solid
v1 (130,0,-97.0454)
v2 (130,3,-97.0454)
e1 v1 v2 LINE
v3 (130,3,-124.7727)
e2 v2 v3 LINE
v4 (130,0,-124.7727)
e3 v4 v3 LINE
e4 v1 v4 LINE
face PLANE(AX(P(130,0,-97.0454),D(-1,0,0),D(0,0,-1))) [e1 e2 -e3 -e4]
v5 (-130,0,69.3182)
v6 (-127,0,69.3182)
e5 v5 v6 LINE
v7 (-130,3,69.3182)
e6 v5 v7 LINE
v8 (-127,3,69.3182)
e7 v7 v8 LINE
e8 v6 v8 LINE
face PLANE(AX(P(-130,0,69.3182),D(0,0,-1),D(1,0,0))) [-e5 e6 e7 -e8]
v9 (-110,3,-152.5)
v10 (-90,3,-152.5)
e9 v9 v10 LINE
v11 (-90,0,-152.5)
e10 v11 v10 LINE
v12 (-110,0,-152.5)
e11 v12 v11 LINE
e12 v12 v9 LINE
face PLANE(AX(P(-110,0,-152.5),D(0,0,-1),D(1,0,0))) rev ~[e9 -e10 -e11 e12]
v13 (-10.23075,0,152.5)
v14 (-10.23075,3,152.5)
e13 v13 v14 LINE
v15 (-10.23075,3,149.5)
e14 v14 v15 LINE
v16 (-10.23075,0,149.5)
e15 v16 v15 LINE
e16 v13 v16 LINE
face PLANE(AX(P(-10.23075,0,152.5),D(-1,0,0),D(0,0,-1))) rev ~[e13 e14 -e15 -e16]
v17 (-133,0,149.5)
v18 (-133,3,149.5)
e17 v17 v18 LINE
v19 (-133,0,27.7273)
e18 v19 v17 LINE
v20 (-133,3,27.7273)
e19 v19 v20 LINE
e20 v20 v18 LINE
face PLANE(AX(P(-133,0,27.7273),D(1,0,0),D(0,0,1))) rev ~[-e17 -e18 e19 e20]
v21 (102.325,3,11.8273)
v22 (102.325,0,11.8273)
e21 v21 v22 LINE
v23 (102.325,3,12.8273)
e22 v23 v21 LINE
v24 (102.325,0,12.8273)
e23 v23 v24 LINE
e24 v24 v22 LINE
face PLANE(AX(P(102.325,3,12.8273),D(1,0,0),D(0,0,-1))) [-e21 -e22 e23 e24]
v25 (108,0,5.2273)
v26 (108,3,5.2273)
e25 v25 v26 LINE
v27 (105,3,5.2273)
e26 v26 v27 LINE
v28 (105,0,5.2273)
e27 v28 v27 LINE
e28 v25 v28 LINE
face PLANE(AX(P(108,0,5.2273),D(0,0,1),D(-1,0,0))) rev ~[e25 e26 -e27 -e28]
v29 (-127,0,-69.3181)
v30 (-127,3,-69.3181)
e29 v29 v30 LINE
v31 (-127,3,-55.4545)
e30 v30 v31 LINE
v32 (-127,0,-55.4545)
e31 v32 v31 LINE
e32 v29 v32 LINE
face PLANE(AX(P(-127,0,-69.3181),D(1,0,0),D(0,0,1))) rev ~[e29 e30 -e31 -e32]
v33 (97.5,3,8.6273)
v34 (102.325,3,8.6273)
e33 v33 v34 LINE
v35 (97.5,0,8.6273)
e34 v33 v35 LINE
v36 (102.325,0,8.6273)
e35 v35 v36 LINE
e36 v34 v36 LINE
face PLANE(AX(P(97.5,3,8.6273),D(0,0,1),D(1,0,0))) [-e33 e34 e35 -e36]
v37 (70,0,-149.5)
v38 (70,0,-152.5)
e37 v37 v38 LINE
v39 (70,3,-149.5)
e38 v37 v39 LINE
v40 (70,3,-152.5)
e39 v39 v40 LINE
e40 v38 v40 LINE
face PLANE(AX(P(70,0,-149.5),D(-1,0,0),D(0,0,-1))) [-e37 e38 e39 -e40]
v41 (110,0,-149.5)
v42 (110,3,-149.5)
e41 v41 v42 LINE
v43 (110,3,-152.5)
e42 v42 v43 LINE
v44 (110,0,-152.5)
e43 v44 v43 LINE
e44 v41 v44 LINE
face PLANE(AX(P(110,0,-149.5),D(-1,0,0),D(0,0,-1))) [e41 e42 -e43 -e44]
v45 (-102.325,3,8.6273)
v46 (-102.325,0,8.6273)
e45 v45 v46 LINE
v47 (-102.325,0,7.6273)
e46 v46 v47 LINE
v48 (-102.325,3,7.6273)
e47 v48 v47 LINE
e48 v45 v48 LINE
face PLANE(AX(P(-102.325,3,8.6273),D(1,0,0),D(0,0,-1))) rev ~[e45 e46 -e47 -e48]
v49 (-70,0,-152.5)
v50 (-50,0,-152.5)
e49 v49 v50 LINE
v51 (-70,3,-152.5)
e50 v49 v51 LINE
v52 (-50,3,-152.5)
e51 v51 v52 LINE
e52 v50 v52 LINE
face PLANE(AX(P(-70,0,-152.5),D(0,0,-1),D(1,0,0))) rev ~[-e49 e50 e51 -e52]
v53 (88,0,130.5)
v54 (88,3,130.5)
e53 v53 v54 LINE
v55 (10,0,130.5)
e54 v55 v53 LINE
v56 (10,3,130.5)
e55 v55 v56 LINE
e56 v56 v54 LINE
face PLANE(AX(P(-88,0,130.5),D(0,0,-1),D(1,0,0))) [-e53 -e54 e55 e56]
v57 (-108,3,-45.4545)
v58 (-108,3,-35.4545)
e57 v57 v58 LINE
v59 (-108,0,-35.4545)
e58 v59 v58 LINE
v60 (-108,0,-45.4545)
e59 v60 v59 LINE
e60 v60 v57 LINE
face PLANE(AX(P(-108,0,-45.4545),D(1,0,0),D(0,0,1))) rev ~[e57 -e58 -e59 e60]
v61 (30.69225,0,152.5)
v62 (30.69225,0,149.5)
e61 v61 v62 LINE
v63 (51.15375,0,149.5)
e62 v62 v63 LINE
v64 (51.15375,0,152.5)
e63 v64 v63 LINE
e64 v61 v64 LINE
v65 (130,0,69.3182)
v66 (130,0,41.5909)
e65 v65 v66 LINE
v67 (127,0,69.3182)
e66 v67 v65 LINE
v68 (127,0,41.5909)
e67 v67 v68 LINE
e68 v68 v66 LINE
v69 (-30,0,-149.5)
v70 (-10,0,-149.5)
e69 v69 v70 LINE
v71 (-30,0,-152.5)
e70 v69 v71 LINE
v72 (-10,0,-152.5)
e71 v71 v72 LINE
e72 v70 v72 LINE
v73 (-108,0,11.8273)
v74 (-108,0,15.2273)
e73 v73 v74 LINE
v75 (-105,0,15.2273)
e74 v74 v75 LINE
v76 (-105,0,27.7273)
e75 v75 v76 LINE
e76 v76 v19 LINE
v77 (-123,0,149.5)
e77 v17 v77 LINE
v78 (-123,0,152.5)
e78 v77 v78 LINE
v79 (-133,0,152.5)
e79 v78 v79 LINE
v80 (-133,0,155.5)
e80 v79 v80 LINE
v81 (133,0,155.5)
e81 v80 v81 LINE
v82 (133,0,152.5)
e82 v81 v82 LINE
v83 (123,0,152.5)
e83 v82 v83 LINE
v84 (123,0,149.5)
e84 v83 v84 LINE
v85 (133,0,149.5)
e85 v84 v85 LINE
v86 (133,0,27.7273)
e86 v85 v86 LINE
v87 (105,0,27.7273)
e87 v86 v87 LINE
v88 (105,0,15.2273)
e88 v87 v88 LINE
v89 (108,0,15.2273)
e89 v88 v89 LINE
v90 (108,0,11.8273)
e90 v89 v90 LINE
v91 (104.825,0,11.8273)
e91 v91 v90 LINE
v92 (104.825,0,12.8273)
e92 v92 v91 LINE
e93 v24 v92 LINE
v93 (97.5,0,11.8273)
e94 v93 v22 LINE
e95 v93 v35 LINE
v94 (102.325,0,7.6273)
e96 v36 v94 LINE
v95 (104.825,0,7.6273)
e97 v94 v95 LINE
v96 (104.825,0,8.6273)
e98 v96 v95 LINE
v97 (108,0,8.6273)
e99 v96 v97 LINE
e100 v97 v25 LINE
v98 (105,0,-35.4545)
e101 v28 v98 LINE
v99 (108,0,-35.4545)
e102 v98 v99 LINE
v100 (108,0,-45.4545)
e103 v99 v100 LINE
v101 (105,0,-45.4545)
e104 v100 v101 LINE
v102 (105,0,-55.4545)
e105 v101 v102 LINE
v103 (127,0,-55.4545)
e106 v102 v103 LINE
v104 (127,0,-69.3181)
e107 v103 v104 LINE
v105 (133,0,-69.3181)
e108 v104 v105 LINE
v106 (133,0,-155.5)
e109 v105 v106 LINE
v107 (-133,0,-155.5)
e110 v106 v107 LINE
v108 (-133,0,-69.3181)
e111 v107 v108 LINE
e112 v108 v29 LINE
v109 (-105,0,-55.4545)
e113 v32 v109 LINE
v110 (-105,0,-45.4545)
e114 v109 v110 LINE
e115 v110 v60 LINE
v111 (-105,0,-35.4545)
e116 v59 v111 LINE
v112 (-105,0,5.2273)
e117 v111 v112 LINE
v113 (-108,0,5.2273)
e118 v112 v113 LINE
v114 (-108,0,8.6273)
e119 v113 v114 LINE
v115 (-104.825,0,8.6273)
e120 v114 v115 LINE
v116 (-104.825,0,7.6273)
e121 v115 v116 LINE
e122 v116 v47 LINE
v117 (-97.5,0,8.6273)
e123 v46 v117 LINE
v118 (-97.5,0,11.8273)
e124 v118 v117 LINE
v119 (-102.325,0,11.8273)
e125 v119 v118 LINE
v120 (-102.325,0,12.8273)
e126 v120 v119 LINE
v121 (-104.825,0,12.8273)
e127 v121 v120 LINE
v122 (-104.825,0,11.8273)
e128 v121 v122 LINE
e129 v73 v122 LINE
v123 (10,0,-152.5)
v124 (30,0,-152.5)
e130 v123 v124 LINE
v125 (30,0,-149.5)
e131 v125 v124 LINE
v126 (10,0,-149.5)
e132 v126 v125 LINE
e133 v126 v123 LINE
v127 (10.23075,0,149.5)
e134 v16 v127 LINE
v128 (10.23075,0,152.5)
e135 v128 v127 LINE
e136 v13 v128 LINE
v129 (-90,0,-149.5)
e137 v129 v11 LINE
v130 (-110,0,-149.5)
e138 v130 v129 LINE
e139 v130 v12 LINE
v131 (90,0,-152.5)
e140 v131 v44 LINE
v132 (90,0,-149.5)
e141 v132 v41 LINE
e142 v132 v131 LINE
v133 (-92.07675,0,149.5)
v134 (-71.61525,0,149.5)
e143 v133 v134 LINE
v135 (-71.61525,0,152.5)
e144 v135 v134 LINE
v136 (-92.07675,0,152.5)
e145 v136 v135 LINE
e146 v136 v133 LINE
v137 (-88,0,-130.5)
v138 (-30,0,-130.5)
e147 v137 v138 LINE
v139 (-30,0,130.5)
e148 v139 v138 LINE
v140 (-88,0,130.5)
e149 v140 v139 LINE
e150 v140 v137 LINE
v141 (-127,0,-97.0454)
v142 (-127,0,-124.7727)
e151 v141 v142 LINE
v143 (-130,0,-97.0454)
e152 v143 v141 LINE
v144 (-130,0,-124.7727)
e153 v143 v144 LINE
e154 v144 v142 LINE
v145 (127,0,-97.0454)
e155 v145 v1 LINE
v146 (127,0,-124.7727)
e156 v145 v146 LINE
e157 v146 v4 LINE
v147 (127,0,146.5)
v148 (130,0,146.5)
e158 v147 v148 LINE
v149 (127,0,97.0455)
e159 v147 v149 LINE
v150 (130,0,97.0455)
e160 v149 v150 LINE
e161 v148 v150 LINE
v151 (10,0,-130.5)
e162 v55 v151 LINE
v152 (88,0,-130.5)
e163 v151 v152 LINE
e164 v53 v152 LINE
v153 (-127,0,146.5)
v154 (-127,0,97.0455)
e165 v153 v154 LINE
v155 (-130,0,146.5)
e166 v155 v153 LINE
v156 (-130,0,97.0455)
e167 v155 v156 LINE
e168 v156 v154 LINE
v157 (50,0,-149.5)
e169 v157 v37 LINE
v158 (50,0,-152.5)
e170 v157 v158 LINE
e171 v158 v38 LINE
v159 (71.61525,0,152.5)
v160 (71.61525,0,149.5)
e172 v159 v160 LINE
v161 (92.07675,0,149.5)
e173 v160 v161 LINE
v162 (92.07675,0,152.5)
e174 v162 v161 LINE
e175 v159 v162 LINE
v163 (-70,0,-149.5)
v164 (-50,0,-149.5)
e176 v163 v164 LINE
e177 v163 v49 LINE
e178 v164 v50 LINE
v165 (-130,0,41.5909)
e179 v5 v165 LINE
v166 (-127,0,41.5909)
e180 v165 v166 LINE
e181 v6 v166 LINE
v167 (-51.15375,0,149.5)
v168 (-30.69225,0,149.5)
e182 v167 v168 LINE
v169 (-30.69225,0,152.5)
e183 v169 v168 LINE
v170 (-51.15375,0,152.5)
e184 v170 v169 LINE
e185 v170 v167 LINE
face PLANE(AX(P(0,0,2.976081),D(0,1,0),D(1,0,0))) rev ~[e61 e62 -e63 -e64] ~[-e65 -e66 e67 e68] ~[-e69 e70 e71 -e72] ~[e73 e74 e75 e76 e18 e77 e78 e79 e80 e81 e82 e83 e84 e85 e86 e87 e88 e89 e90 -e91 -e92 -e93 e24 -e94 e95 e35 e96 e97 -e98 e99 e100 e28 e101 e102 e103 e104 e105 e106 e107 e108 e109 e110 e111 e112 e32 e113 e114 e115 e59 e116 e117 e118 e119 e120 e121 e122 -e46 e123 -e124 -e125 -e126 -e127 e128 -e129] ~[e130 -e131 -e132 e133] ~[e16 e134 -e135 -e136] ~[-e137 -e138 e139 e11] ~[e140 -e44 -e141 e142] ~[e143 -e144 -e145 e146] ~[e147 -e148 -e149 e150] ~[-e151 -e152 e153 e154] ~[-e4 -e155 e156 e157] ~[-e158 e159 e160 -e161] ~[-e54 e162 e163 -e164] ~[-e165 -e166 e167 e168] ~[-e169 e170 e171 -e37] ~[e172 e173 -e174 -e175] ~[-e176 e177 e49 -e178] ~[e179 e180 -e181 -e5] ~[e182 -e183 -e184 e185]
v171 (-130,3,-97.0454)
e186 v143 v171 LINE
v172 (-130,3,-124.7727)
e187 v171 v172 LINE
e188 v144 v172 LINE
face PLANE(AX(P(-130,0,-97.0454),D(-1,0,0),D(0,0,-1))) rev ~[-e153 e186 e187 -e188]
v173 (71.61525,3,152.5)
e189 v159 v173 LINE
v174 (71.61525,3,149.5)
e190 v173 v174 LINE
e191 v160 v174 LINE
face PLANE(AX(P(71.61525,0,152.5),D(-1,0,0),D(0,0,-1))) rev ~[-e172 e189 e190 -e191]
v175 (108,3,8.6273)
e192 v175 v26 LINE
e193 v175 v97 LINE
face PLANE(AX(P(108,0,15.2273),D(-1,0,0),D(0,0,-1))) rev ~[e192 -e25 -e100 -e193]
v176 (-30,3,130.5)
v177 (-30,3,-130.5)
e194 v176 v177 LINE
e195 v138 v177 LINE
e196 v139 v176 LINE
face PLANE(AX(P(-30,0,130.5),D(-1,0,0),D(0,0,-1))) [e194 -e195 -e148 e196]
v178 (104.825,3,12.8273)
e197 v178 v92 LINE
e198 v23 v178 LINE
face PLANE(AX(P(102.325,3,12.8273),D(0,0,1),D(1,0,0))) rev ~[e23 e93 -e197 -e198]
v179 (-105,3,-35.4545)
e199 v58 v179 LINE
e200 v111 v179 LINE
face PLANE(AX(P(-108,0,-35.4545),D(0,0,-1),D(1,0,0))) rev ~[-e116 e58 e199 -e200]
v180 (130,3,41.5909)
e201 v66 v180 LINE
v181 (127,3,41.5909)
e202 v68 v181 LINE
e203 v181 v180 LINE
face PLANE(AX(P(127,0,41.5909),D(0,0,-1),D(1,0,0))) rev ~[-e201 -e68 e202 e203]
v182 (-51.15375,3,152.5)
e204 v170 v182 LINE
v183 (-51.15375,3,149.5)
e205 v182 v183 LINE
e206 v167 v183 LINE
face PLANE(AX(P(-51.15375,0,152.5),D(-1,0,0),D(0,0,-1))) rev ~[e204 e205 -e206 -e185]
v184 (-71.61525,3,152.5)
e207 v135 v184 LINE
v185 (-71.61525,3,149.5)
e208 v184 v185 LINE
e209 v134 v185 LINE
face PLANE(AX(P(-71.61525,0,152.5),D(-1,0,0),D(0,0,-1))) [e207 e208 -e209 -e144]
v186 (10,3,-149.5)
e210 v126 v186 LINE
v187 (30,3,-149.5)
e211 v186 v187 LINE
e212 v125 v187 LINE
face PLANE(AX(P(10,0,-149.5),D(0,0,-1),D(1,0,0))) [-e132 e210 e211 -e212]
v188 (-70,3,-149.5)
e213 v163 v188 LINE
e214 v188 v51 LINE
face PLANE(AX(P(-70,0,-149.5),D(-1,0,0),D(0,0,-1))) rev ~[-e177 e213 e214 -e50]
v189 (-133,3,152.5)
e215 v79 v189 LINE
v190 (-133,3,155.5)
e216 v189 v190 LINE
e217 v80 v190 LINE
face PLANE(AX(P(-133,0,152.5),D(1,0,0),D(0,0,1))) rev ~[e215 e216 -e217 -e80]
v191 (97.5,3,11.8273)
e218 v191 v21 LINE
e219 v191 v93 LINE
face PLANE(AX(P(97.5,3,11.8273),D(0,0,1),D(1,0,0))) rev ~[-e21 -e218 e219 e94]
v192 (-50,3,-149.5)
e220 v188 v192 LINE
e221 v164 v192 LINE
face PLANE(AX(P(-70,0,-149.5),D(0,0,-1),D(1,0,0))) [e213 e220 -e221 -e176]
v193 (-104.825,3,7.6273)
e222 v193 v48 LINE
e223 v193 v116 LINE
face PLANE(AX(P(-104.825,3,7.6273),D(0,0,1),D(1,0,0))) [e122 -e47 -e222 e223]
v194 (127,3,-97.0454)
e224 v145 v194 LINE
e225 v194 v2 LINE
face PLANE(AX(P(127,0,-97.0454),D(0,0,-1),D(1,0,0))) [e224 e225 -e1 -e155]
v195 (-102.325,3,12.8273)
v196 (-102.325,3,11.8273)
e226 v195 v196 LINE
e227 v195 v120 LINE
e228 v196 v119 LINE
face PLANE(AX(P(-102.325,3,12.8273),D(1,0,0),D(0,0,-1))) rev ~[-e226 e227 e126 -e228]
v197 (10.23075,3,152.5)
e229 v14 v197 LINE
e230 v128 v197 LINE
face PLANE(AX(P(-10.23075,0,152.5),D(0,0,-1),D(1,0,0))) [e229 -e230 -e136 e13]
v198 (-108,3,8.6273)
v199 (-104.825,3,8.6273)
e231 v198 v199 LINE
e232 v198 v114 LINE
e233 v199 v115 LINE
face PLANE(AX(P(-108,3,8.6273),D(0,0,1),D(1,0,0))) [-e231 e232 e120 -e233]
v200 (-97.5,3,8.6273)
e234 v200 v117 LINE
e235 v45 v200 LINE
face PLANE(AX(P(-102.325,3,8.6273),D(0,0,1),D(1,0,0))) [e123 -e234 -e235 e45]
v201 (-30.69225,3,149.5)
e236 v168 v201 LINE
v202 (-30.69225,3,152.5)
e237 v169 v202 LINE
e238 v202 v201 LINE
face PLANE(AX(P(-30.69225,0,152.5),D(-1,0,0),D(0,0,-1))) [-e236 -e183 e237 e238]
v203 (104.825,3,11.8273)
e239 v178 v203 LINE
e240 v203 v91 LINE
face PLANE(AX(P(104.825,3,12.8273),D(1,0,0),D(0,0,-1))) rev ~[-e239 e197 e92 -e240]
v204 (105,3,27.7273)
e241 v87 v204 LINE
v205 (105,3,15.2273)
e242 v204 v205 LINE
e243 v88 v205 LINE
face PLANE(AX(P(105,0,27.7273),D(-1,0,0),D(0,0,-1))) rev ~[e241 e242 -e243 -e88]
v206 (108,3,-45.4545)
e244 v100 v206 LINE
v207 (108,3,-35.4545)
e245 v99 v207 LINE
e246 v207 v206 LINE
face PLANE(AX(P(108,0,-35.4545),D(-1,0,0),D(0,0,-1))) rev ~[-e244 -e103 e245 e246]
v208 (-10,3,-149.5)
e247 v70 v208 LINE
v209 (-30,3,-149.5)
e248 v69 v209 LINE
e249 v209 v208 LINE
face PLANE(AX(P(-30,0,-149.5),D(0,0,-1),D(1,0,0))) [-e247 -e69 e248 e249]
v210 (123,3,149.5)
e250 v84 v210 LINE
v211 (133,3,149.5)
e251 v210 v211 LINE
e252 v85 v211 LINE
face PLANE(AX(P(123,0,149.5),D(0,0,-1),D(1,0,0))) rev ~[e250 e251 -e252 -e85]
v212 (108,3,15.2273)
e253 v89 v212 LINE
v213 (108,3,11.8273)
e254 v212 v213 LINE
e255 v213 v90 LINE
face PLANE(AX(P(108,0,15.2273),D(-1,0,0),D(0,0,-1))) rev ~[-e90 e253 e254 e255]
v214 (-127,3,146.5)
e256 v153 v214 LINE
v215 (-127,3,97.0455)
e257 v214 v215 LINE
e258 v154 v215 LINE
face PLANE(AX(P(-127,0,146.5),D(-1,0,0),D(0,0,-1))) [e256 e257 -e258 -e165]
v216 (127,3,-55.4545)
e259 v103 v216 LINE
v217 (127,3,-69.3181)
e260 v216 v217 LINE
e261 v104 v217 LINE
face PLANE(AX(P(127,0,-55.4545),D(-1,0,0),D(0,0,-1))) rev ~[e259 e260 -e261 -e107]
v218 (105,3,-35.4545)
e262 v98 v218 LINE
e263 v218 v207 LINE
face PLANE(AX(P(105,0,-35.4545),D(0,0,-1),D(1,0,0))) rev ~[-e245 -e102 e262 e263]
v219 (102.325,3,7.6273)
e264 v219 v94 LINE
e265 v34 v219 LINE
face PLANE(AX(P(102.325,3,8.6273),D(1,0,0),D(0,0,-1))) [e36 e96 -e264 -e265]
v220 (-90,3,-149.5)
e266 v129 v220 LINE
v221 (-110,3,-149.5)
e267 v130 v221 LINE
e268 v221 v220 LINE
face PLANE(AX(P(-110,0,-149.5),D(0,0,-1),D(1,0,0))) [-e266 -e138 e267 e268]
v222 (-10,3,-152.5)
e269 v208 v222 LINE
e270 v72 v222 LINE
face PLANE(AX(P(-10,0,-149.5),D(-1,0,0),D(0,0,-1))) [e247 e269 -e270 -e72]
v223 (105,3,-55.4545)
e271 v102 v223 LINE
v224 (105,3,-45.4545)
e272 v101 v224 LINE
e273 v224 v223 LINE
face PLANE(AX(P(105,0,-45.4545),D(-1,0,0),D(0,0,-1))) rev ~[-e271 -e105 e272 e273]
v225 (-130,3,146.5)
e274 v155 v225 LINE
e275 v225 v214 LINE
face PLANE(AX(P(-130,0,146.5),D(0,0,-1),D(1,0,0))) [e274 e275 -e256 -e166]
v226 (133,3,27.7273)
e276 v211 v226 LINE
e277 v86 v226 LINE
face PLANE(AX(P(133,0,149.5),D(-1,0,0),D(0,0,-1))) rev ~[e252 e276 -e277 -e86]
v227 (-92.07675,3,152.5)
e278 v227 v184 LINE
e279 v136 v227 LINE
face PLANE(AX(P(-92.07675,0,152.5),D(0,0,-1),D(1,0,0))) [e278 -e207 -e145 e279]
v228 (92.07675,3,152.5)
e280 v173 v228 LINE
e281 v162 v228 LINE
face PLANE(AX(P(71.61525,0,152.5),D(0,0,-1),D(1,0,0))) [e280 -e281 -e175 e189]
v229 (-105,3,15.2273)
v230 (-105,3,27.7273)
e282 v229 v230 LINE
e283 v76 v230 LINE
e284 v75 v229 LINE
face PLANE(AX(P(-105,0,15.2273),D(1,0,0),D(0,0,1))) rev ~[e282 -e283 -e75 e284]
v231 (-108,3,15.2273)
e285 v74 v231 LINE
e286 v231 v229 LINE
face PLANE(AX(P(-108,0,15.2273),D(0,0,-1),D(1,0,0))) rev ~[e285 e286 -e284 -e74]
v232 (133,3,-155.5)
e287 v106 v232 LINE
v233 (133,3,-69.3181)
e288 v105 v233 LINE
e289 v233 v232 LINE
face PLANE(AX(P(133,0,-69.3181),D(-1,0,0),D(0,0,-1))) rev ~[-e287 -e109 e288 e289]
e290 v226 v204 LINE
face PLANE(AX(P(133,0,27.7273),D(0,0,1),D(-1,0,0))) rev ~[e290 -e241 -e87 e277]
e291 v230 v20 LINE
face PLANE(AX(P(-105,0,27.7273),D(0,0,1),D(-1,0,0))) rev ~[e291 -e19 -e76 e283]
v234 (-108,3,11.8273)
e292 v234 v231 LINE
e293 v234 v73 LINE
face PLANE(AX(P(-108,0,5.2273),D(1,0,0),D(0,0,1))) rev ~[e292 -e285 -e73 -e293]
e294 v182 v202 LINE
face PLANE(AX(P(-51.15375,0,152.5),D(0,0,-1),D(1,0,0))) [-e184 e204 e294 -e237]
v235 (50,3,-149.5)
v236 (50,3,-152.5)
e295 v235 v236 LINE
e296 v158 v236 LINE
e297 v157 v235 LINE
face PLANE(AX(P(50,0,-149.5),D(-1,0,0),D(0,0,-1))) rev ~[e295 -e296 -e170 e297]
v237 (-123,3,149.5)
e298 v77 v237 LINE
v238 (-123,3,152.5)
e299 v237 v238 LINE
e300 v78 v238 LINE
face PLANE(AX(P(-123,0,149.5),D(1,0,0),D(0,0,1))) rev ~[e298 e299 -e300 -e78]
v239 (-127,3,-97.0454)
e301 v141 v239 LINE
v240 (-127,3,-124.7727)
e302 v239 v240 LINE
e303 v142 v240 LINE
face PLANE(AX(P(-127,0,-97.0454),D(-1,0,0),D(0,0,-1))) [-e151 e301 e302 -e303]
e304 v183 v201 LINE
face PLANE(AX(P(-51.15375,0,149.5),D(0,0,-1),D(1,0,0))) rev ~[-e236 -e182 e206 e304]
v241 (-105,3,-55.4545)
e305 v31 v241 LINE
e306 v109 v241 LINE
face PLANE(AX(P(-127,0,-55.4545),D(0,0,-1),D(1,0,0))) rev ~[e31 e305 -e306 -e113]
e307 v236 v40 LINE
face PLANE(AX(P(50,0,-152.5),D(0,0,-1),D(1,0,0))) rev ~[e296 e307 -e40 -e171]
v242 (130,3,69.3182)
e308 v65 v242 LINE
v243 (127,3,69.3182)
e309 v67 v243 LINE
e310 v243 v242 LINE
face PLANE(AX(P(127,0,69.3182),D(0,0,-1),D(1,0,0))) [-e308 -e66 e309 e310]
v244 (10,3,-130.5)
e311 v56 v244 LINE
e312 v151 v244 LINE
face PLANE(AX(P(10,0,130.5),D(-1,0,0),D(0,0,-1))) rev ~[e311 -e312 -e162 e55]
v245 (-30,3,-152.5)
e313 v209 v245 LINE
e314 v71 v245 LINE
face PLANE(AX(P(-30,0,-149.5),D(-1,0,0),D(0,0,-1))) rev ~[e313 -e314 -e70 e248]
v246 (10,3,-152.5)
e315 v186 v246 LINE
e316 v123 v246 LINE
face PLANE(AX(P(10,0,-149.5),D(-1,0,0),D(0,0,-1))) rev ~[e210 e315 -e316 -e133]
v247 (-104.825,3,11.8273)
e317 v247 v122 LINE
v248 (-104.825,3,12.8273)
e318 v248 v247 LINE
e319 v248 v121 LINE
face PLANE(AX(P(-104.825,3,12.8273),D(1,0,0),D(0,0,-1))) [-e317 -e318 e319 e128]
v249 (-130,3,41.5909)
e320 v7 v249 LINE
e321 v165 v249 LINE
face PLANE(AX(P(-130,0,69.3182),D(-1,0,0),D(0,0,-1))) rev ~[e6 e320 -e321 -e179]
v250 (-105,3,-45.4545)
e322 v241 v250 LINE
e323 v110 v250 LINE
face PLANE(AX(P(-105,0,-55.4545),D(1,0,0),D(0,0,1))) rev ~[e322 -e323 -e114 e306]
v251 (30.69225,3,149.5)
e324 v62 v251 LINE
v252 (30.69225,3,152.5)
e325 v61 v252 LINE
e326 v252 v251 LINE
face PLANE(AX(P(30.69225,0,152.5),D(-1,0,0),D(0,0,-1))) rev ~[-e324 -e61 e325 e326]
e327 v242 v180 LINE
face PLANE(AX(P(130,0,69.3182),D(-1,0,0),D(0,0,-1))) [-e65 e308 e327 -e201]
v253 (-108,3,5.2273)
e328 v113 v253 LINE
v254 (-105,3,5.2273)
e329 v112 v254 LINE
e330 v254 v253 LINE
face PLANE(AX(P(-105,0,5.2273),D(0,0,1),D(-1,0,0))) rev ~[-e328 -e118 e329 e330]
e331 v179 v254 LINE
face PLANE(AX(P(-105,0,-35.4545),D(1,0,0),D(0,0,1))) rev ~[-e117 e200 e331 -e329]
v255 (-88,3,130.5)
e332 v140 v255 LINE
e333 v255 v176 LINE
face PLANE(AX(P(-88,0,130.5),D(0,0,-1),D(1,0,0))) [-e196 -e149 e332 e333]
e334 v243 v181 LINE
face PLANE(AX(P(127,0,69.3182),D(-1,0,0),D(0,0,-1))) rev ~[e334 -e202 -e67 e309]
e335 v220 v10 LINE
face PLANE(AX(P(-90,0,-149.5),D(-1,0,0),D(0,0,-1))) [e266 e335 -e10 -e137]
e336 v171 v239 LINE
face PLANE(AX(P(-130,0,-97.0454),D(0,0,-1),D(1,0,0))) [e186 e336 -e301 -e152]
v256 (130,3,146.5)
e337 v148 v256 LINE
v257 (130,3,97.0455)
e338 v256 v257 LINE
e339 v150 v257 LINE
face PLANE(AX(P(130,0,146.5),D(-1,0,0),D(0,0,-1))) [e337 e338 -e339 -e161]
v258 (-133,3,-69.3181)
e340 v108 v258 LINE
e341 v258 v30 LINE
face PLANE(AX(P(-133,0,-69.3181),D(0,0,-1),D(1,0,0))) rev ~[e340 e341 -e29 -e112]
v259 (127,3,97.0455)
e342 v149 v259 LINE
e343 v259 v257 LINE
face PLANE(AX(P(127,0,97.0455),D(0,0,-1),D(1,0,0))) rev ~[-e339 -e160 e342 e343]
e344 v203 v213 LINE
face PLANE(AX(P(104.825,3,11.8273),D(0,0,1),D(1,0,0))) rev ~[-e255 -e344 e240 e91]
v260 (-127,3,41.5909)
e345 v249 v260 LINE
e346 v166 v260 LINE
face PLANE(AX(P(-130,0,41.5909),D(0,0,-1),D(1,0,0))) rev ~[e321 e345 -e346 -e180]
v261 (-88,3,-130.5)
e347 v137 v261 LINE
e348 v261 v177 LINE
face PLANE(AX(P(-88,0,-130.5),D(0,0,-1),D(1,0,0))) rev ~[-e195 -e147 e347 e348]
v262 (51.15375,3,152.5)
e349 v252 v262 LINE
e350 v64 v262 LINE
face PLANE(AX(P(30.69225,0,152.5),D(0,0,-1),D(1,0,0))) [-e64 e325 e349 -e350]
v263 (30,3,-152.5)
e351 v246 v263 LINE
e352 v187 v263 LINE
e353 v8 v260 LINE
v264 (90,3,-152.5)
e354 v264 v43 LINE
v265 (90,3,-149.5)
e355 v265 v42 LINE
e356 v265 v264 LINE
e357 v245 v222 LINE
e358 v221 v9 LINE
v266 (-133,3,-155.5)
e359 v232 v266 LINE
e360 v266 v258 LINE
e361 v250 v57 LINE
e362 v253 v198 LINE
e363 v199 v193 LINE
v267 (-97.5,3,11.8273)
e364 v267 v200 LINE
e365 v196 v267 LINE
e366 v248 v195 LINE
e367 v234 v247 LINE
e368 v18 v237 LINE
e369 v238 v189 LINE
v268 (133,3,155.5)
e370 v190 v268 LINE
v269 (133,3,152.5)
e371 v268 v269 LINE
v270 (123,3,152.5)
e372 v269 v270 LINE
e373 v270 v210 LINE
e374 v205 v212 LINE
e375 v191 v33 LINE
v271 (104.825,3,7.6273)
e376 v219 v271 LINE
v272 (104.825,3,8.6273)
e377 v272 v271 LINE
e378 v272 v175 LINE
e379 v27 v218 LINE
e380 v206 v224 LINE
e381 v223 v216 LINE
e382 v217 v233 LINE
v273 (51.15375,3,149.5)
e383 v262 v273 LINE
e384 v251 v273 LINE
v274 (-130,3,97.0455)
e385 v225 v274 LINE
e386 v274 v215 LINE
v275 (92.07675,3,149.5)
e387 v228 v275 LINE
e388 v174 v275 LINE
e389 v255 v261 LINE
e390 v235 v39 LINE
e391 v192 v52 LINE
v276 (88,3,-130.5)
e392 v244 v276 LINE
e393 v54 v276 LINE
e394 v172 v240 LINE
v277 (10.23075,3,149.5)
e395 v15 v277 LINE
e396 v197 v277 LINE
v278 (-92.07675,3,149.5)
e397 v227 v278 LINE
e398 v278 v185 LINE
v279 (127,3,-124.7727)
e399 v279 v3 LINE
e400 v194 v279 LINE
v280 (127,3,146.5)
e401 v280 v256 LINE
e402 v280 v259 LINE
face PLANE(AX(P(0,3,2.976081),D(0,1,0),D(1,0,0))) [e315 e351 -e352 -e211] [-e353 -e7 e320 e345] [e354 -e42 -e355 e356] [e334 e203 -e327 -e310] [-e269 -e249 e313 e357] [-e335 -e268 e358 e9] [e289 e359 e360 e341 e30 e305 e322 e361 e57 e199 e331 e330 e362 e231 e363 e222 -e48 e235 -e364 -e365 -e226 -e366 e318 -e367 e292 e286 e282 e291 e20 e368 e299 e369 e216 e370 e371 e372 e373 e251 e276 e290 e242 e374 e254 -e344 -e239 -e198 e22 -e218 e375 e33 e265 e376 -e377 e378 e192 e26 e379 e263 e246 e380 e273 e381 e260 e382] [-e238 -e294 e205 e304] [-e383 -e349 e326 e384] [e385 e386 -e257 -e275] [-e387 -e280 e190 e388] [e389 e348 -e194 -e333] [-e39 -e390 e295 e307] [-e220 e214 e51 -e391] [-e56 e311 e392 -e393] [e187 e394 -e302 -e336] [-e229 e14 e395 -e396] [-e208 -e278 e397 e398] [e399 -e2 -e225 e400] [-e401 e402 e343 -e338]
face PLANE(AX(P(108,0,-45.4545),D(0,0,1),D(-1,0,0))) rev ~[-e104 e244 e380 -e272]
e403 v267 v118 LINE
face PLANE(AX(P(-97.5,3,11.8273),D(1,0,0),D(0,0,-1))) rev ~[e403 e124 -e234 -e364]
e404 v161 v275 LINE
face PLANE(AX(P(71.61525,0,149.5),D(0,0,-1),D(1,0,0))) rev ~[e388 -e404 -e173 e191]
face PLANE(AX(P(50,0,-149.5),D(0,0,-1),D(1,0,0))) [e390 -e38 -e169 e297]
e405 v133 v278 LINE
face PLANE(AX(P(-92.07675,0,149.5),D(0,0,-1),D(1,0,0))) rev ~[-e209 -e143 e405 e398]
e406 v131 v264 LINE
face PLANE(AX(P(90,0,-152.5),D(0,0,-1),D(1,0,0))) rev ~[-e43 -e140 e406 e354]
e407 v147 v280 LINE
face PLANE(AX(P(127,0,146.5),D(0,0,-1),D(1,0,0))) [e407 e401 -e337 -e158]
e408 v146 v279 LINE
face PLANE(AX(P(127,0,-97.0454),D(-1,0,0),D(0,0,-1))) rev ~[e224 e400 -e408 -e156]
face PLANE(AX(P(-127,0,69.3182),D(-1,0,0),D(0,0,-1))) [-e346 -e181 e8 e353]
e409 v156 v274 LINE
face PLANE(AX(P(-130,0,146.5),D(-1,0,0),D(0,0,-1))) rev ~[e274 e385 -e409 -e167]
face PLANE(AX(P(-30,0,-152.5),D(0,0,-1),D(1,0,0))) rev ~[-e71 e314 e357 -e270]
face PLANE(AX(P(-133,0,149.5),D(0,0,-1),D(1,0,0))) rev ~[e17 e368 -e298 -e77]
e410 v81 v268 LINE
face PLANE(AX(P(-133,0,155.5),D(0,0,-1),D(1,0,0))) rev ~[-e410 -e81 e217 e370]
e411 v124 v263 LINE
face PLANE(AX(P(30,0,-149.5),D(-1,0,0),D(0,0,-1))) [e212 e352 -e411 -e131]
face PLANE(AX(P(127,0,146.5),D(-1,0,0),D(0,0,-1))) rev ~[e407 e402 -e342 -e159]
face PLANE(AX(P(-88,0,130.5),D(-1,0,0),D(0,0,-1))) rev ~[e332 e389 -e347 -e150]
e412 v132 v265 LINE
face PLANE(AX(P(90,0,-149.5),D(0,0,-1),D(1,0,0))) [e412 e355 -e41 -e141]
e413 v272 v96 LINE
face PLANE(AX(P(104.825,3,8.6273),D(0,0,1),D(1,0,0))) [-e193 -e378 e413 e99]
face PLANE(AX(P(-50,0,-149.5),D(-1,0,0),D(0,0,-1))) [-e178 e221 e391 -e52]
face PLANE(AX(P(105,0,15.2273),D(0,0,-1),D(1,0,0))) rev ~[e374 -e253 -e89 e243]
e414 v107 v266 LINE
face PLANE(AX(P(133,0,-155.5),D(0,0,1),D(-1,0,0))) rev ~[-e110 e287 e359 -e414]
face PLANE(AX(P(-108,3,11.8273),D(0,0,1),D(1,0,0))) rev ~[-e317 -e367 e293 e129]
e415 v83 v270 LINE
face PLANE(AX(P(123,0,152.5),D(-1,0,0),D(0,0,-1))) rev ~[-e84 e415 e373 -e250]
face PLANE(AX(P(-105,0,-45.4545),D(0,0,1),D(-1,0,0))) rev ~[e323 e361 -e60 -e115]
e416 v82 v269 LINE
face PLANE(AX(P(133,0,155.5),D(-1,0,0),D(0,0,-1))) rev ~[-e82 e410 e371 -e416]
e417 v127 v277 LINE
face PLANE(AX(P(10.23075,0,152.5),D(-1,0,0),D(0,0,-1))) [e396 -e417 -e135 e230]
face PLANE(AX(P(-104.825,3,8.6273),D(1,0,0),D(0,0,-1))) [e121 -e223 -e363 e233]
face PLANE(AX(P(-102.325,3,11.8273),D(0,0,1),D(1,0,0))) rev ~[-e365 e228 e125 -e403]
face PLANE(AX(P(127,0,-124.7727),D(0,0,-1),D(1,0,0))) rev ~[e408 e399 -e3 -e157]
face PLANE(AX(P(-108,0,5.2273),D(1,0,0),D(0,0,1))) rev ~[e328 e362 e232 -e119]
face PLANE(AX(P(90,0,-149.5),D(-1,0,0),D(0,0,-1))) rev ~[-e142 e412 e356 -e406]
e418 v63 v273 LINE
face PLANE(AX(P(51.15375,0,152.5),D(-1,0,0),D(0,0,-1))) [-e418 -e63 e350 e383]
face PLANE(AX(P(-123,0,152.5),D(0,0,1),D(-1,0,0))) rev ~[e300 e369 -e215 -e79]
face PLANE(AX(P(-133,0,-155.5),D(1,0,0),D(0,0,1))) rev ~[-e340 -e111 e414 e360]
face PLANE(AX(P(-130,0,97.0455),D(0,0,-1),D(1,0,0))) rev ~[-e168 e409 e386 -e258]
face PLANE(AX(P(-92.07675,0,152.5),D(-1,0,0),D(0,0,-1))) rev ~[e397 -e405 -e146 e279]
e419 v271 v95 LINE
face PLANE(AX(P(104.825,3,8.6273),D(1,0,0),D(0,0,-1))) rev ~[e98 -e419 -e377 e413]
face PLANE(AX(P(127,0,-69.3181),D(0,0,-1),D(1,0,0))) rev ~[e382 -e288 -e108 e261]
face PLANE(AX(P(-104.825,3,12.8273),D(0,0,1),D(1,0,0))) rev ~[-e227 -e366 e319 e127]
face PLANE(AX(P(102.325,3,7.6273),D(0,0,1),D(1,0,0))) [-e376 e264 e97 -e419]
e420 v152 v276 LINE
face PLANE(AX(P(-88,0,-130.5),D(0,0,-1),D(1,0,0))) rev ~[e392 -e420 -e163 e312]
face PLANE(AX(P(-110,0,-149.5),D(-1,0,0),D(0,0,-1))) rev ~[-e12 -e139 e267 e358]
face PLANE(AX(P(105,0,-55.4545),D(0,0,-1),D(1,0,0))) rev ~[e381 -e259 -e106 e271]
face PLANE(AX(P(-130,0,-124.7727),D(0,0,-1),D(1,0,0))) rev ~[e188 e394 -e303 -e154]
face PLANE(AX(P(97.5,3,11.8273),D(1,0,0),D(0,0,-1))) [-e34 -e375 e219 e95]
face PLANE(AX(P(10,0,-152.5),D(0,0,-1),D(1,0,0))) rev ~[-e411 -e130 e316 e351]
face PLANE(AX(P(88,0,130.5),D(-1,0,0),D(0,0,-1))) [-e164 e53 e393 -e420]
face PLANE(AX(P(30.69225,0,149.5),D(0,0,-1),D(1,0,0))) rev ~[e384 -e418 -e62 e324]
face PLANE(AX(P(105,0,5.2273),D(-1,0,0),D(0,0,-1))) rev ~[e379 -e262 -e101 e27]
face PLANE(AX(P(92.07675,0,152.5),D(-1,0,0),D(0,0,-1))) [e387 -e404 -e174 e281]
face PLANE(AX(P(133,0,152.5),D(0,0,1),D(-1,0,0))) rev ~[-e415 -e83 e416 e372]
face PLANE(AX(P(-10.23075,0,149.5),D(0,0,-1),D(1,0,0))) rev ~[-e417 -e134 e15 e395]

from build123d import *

# Parameters (mm, degrees)
SKETCH1_W           = 3
SKETCH1_H           = 49.4545
SKETCH1_W_2         = 20.4615
SKETCH1_H_2         = 3
SKETCH1_H_3         = 27.7273
SKETCH1_W_3         = 20
SKETCH1_W_4         = 176
SKETCH1_H_4         = 261
BOSS_EXTRUDE1_DEPTH = 3
SKETCH2_W           = 10.5
SKETCH2_H           = 3.2
SKETCH2_W_2         = 2.5
SKETCH2_H_2         = 5.2
CUT_EXTRUDE1_DEPTH  = 10
SKETCH4_W           = 40
SKETCH4_H           = 261
BOSS_EXTRUDE2_DEPTH = 3


with BuildPart() as part:
    # Sketch1 → Boss-Extrude1 (new body)
    with BuildSketch(Plane(origin=(0, 0, 0), x_dir=(1, 0, 0), z_dir=(0, 1, 0))):
        Polygon((-133, -152.5), (-133, -155.5), (133, -155.5), (133, -152.5), (123, -152.5), (123, -149.5), (133, -149.5), (133, -27.7273), (105, -27.7273), (105, -15.2273), (108, -15.2273), (108, -5.2273), (105, -5.2273), (105, 35.4545), (108, 35.4545), (108, 45.4545), (105, 45.4545), (105, 55.4545), (127, 55.4545), (127, 69.3181), (133, 69.3181), (133, 155.5), (-133, 155.5), (-133, 69.3181), (-127, 69.3181), (-127, 55.4545), (-105, 55.4545), (-105, 45.4545), (-108, 45.4545), (-108, 35.4545), (-105, 35.4545), (-105, -5.2273), (-108, -5.2273), (-108, -15.2273), (-105, -15.2273), (-105, -27.7273), (-133, -27.7273), (-133, -149.5), (-123, -149.5), (-123, -152.5), align=None)
        with Locations((-128.5, -121.77275)):
            Rectangle(SKETCH1_W, SKETCH1_H, mode=Mode.SUBTRACT)
        with Locations((-81.846, -151)):
            Rectangle(SKETCH1_W_2, SKETCH1_H_2, mode=Mode.SUBTRACT)
        with Locations((-40.923, -151)):
            Rectangle(SKETCH1_W_2, SKETCH1_H_2, mode=Mode.SUBTRACT)
        with Locations((0, -151)):
            Rectangle(SKETCH1_W_2, SKETCH1_H_2, mode=Mode.SUBTRACT)
        with Locations((-128.5, -55.45455)):
            Rectangle(SKETCH1_W, SKETCH1_H_3, mode=Mode.SUBTRACT)
        with Locations((40.923, -151)):
            Rectangle(SKETCH1_W_2, SKETCH1_H_2, mode=Mode.SUBTRACT)
        with Locations((81.846, -151)):
            Rectangle(SKETCH1_W_2, SKETCH1_H_2, mode=Mode.SUBTRACT)
        with Locations((128.5, -121.77275)):
            Rectangle(SKETCH1_W, SKETCH1_H, mode=Mode.SUBTRACT)
        with Locations((128.5, -55.45455)):
            Rectangle(SKETCH1_W, SKETCH1_H_3, mode=Mode.SUBTRACT)
        with Locations((-128.5, 110.90905)):
            Rectangle(SKETCH1_W, SKETCH1_H_3, mode=Mode.SUBTRACT)
        with Locations((-100, 151)):
            Rectangle(SKETCH1_W_3, SKETCH1_H_2, mode=Mode.SUBTRACT)
        with Locations((-60, 151)):
            Rectangle(SKETCH1_W_3, SKETCH1_H_2, mode=Mode.SUBTRACT)
        with Locations((-20, 151)):
            Rectangle(SKETCH1_W_3, SKETCH1_H_2, mode=Mode.SUBTRACT)
        Rectangle(SKETCH1_W_4, SKETCH1_H_4, mode=Mode.SUBTRACT)
        with Locations((20, 151)):
            Rectangle(SKETCH1_W_3, SKETCH1_H_2, mode=Mode.SUBTRACT)
        with Locations((60, 151)):
            Rectangle(SKETCH1_W_3, SKETCH1_H_2, mode=Mode.SUBTRACT)
        with Locations((128.5, 110.90905)):
            Rectangle(SKETCH1_W, SKETCH1_H_3, mode=Mode.SUBTRACT)
        with Locations((100, 151)):
            Rectangle(SKETCH1_W_3, SKETCH1_H_2, mode=Mode.SUBTRACT)
    extrude(amount=BOSS_EXTRUDE1_DEPTH)

    # Sketch2 → Cut-Extrude1 (cut)
    with BuildSketch(Plane(origin=(0, 3, 0), x_dir=(1, 0, 0), z_dir=(0, 1, 0))):
        with Locations((-102.75, -10.2273)):
            Rectangle(SKETCH2_W, SKETCH2_H)
        with Locations((102.75, -10.2273)):
            Rectangle(SKETCH2_W, SKETCH2_H)
        with Locations((103.575, -10.2273)):
            Rectangle(SKETCH2_W_2, SKETCH2_H_2)
        with Locations((-103.575, -10.2273)):
            Rectangle(SKETCH2_W_2, SKETCH2_H_2)
    extrude(amount=-CUT_EXTRUDE1_DEPTH, mode=Mode.SUBTRACT)

    # Sketch4 → Boss-Extrude2 (add)
    with BuildSketch(Plane(origin=(0, 0, 0), x_dir=(1, 0, 0), z_dir=(0, 1, 0))):
        with Locations((-10, 0)):
            Rectangle(SKETCH4_W, SKETCH4_H)
    extrude(amount=BOSS_EXTRUDE2_DEPTH)


solid = part.part
